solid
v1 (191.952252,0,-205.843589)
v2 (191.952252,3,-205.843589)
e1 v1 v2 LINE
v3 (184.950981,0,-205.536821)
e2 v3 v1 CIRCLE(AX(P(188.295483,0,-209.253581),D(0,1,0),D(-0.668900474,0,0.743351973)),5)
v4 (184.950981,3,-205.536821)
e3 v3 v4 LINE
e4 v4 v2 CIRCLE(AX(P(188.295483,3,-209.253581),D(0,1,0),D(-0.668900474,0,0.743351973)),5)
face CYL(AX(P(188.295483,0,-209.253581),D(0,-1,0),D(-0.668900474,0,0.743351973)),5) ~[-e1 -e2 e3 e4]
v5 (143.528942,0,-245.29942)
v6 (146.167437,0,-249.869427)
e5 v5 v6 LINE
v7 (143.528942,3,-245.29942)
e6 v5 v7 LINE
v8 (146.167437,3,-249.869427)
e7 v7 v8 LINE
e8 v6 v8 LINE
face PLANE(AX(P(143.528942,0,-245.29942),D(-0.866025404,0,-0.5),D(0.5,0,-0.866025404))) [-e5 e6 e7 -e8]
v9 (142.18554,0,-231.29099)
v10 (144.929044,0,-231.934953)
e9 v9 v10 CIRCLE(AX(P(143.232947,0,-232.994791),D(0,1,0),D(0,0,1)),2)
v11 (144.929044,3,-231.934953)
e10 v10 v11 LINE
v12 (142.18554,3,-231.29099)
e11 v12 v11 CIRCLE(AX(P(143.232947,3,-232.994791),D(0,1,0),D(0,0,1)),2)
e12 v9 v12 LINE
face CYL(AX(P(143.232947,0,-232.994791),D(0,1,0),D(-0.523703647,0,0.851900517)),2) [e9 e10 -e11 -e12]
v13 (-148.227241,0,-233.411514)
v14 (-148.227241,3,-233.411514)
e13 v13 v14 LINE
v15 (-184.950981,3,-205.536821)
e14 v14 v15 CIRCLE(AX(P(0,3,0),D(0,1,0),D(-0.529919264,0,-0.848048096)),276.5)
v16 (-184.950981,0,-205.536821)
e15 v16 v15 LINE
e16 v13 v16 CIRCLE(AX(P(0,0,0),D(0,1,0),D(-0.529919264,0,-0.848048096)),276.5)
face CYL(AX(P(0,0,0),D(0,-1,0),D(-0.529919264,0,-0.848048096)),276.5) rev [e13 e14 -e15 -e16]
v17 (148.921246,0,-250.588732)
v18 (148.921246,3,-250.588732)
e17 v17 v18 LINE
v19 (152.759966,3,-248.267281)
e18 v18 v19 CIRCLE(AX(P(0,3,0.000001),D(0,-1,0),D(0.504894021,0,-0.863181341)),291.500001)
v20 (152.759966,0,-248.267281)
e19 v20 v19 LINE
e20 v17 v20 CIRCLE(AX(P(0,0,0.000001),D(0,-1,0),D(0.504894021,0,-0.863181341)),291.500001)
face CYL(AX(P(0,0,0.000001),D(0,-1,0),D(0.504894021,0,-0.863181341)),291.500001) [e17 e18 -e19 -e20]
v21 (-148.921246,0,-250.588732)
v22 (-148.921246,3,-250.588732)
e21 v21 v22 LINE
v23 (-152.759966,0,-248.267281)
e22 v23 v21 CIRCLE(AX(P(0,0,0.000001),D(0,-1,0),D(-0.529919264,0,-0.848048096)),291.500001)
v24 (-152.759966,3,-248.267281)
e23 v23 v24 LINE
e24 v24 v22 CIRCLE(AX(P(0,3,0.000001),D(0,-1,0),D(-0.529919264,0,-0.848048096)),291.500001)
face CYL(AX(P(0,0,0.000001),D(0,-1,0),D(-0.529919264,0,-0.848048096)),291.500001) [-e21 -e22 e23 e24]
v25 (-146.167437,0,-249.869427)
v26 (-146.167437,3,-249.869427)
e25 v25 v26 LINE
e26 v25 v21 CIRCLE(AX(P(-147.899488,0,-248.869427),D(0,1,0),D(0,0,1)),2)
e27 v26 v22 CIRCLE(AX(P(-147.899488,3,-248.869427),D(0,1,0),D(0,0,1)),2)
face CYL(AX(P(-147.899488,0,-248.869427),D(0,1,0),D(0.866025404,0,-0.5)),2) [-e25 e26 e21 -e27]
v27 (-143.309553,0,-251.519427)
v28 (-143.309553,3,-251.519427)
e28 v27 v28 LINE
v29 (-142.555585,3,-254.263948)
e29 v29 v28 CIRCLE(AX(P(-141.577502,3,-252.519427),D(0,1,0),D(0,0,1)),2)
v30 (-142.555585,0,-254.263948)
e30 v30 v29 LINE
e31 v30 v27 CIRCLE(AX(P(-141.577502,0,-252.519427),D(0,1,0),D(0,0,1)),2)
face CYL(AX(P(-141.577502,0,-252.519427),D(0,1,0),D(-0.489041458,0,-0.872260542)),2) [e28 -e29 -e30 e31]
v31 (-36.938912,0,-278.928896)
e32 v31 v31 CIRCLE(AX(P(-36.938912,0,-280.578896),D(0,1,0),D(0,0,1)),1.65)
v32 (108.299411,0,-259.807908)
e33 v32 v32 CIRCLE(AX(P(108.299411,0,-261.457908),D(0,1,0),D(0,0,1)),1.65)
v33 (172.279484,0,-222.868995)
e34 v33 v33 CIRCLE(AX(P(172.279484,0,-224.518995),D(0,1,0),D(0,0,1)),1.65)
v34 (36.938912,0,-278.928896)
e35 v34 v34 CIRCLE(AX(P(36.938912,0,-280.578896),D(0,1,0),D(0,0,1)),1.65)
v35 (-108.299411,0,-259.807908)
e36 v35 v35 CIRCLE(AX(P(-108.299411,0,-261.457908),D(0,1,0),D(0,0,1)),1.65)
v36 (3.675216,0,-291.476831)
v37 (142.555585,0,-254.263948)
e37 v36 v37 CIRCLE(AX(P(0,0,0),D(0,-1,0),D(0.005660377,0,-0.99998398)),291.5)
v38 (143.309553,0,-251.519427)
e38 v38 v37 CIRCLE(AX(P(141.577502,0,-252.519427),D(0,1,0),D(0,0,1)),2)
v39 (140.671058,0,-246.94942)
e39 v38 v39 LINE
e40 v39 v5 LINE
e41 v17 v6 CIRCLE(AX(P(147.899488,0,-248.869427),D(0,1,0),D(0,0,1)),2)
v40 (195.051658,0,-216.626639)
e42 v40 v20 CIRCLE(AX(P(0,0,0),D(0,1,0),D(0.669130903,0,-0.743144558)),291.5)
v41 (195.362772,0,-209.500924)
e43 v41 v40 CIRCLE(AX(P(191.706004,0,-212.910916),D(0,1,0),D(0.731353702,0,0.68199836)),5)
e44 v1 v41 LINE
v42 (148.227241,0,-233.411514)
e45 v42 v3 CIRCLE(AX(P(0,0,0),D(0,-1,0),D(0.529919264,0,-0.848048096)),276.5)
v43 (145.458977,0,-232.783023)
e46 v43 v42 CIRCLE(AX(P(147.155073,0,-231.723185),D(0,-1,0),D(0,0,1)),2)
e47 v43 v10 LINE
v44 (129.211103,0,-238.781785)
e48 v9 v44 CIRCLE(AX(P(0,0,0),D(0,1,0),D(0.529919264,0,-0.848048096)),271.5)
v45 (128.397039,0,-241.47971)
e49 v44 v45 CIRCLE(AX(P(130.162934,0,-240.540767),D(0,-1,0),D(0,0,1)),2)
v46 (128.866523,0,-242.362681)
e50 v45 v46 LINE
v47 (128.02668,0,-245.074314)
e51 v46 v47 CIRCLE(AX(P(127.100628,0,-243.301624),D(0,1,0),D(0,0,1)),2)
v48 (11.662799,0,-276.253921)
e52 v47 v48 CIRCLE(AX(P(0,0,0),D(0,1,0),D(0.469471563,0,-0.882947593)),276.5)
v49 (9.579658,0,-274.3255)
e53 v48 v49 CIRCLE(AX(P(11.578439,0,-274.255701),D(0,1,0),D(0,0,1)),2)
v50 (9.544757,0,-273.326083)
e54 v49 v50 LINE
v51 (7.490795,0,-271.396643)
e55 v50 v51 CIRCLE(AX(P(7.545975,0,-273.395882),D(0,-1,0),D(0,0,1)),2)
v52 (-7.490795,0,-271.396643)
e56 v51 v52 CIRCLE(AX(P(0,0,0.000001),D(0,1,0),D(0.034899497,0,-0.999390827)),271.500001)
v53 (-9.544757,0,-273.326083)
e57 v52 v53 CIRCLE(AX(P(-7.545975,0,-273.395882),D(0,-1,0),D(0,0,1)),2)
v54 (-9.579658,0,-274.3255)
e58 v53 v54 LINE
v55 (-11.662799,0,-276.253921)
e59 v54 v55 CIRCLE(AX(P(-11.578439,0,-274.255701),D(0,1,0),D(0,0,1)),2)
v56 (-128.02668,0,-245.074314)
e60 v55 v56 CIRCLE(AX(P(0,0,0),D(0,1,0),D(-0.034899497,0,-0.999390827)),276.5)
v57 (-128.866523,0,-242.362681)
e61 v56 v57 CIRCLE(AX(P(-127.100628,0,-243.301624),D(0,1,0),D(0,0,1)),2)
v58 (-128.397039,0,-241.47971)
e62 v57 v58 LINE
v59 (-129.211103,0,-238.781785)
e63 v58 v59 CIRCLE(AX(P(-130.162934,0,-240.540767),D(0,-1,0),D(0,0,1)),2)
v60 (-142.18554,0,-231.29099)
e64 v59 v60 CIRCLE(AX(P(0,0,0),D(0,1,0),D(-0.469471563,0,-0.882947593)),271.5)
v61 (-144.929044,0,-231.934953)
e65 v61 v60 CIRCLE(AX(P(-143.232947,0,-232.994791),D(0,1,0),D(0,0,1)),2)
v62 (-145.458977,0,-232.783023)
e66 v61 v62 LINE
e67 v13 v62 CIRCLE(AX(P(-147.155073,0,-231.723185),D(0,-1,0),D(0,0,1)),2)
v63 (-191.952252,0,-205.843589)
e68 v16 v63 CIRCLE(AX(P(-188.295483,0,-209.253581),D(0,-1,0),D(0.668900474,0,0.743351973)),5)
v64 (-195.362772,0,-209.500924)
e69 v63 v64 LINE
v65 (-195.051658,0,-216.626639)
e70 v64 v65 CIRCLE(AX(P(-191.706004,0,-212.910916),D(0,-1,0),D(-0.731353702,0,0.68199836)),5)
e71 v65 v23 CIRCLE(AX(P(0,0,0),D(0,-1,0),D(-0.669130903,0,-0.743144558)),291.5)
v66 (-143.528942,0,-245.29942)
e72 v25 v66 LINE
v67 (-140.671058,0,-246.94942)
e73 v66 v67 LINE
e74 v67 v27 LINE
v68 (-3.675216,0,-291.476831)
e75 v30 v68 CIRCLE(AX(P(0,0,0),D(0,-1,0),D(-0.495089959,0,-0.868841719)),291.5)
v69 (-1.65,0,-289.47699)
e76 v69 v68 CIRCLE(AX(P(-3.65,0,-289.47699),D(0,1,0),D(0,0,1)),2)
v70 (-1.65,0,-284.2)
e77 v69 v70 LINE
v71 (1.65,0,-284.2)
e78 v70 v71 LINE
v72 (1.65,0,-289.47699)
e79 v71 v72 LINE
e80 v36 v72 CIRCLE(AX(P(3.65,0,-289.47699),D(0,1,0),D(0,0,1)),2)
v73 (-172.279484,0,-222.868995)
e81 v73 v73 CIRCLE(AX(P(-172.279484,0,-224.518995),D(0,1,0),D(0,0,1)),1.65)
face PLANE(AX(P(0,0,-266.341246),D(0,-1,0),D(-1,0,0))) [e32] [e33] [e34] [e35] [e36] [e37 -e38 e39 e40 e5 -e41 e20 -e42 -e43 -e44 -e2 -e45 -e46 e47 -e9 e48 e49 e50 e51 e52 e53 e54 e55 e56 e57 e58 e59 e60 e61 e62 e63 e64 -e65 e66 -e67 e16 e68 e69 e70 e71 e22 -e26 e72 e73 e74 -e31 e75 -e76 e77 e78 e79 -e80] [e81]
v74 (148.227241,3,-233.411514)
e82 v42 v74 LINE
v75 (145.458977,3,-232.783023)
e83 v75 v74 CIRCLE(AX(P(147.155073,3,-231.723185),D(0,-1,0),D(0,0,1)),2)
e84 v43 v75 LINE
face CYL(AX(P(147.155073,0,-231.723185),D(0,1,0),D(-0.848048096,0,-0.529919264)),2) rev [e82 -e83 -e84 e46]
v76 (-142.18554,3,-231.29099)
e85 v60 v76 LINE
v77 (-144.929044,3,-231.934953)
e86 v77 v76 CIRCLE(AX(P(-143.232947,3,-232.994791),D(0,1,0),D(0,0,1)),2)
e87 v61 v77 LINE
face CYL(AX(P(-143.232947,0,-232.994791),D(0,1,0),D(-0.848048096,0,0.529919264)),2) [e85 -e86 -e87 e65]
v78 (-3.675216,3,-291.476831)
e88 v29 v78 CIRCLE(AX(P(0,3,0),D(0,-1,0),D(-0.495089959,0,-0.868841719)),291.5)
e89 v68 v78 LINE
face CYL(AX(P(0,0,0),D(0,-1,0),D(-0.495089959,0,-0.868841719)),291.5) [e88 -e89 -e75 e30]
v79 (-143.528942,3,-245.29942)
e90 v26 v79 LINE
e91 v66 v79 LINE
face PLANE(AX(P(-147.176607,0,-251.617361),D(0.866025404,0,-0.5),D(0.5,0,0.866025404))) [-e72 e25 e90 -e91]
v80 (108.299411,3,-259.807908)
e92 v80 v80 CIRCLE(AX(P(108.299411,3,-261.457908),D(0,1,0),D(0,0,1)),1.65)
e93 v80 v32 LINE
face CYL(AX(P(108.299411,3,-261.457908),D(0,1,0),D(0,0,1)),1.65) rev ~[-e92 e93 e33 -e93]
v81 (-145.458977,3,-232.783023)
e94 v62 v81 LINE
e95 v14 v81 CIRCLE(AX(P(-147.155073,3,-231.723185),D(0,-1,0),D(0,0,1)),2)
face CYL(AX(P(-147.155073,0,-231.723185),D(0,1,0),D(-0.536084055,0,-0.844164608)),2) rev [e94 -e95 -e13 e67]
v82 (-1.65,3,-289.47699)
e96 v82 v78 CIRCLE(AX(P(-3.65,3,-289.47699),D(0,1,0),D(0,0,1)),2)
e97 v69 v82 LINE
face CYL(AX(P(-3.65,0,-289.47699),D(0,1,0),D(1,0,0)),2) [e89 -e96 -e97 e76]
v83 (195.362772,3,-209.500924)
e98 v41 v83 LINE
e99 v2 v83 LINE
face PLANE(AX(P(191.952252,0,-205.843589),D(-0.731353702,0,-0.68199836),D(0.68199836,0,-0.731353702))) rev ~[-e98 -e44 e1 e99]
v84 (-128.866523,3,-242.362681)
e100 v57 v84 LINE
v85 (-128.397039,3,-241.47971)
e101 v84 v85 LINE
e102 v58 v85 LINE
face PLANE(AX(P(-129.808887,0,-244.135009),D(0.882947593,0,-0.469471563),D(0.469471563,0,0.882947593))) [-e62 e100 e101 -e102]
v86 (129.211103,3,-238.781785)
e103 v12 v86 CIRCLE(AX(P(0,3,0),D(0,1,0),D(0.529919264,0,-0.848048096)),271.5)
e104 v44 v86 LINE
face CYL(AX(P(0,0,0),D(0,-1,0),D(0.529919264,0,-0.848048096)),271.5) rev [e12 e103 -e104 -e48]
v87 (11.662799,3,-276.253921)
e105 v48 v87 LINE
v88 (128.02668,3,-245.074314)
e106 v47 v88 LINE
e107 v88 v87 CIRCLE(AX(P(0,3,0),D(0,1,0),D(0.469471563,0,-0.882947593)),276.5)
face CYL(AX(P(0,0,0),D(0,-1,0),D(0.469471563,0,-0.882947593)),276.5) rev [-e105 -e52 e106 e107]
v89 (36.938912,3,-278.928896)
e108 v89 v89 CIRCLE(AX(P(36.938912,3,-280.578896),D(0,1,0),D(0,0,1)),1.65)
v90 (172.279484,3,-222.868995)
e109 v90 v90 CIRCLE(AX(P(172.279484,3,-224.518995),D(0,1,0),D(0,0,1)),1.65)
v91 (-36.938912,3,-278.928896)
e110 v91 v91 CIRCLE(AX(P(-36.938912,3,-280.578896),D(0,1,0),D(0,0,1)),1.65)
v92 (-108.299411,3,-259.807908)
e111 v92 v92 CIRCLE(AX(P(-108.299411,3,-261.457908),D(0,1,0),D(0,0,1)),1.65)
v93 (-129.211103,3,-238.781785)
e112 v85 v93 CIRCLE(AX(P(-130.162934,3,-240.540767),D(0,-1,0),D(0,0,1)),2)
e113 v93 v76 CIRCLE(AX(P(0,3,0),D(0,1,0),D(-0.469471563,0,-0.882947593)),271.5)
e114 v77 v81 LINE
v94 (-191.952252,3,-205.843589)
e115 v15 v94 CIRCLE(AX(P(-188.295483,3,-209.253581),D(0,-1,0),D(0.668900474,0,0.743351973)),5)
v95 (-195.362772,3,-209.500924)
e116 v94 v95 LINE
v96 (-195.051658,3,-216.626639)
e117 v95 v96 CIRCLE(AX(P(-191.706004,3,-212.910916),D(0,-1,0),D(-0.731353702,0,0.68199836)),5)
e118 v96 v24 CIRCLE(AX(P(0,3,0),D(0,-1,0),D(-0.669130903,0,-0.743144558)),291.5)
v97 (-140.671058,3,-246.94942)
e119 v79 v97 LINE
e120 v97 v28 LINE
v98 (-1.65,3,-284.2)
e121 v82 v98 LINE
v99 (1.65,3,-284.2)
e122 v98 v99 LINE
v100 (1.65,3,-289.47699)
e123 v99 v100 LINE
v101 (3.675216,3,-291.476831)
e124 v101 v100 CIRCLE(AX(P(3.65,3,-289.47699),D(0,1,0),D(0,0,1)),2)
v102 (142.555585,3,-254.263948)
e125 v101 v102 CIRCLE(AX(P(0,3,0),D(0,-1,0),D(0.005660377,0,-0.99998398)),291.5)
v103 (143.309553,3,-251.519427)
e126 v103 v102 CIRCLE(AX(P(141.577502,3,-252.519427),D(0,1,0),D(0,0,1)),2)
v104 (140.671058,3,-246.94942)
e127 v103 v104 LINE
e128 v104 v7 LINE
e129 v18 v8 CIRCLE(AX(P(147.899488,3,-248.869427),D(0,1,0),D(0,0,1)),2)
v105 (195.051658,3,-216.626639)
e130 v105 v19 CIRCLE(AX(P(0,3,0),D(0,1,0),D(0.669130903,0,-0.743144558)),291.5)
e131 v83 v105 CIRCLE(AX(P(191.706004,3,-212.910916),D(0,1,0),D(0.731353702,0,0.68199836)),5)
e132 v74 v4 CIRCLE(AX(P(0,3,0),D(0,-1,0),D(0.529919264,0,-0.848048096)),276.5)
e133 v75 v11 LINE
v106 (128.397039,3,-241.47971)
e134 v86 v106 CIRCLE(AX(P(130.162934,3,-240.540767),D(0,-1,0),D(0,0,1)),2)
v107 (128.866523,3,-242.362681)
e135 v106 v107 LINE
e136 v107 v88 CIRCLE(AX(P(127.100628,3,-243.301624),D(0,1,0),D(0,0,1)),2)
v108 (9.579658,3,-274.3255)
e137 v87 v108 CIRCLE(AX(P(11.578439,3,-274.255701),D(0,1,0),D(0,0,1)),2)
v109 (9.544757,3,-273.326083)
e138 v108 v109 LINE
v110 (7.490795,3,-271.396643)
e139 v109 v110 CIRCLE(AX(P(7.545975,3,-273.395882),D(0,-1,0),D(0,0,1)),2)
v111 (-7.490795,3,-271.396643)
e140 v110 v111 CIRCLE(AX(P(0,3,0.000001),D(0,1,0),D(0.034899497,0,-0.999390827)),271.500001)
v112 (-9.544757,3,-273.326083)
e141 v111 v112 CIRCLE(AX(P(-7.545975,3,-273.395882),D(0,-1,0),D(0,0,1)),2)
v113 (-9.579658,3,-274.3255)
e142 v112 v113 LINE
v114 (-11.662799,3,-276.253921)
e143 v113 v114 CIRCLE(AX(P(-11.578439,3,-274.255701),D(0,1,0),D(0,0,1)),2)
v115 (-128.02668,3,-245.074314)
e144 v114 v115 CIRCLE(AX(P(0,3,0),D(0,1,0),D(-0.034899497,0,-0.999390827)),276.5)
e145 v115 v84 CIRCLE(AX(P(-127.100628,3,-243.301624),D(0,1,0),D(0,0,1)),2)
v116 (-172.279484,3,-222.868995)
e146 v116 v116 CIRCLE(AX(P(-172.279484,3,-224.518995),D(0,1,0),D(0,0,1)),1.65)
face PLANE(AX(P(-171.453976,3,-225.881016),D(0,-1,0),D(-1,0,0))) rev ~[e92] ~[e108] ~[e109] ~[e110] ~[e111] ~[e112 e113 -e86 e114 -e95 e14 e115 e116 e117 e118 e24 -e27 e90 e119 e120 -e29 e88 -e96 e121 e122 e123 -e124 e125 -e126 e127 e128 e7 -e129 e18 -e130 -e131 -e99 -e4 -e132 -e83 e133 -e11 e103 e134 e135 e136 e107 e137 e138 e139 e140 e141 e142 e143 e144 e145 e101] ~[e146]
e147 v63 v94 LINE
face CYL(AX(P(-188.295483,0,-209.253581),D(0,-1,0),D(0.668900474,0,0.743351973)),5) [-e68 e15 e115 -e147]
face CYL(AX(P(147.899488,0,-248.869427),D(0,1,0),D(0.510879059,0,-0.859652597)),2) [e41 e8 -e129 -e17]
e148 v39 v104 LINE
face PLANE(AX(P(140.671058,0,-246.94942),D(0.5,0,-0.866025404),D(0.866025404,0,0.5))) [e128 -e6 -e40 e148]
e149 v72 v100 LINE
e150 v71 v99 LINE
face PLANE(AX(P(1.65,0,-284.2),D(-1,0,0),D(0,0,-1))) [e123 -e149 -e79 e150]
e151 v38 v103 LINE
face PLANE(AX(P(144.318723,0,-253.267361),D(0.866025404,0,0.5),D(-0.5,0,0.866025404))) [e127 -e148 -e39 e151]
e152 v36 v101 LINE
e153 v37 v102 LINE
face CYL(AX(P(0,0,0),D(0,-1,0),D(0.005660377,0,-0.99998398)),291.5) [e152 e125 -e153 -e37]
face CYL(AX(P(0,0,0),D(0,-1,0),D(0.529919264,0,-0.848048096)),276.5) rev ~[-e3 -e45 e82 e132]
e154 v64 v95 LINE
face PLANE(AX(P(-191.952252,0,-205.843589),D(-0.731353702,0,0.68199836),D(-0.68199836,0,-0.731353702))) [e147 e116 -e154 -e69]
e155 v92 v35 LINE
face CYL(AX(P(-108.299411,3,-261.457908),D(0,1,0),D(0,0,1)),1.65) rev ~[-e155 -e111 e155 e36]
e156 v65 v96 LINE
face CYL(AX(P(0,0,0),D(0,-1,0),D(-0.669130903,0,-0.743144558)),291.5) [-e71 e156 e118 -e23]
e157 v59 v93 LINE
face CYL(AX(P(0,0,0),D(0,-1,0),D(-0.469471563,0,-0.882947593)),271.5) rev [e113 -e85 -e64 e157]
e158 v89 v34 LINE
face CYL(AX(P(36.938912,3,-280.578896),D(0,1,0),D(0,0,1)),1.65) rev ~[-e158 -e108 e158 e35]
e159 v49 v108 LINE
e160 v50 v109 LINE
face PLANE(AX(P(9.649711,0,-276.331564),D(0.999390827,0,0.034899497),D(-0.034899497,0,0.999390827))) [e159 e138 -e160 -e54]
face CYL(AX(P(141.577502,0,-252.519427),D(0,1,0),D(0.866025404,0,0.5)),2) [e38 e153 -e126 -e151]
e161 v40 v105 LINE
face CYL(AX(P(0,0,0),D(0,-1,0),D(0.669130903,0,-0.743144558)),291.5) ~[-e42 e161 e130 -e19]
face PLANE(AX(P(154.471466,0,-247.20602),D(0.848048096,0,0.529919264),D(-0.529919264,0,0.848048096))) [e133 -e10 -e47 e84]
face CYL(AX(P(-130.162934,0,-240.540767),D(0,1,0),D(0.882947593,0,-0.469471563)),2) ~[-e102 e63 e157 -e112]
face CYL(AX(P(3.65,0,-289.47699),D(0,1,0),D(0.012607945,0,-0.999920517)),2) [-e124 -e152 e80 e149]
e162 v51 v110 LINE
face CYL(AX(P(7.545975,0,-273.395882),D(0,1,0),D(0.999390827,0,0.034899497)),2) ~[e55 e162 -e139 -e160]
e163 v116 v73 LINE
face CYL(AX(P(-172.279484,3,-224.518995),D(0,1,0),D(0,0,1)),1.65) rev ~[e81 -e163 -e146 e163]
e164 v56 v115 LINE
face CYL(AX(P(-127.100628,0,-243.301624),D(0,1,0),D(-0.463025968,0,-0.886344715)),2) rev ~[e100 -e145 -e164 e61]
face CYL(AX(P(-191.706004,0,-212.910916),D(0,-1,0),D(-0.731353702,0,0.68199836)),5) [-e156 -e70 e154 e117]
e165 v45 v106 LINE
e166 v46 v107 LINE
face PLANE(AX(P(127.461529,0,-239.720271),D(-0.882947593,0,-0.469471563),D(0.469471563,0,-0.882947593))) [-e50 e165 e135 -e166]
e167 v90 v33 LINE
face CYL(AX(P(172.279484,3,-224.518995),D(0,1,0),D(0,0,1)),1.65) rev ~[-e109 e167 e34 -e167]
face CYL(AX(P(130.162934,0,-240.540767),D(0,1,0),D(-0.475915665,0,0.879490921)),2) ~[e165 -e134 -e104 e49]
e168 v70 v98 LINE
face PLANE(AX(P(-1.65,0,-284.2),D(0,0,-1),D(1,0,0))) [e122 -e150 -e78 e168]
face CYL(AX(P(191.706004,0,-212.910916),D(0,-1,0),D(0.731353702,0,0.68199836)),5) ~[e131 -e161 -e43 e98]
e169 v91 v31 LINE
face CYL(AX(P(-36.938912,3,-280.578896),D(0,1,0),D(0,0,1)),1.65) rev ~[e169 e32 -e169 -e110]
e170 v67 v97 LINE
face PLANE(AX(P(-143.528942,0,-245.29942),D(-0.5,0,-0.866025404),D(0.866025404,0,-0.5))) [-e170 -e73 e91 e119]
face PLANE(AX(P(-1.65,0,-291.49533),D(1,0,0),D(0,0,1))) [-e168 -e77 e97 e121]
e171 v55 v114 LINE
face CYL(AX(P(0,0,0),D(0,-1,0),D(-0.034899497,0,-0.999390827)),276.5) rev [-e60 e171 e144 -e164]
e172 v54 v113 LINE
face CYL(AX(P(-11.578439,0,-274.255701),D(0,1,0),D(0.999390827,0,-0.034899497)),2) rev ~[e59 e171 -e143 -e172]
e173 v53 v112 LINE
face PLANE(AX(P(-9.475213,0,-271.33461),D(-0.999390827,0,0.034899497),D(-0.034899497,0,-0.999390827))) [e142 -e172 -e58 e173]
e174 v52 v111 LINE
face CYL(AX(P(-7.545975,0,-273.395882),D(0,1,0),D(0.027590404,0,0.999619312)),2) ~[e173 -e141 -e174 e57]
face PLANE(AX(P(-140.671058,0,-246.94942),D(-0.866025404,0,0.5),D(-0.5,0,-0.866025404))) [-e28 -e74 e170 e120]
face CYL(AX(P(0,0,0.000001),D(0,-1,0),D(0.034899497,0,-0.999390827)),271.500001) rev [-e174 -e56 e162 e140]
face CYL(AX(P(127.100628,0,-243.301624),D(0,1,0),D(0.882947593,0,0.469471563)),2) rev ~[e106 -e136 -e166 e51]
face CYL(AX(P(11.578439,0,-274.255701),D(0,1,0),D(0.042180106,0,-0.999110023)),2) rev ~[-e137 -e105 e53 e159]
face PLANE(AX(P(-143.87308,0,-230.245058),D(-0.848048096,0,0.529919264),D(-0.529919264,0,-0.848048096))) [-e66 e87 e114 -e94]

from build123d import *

# Parameters (mm, degrees)
BOSS_EXTRUDE1_DEPTH = 3
FILLET1_R           = 2
FILLET2_R           = 2
FILLET3_R           = 2
BOSS_EXTRUDE2_START = -3
BOSS_EXTRUDE2_DEPTH = 3
FILLET4_R           = 2
SKETCH3_R           = 1.65
CUT_EXTRUDE1_DEPTH  = 10


with BuildPart() as part:
    # Sketch1 → Boss-Extrude1 (new body)
    with BuildSketch(Plane(origin=(0, 0, 0), x_dir=(1, 0, 0), z_dir=(0, 1, 0))):
        with BuildLine():
            Line((-147.176606992, 251.617360996), (-143.528941916, 245.299419756))
            Line((-143.528941916, 245.299419756), (-140.671058084, 246.949419756))
            Line((-140.671058084, 246.949419756), (-144.318723159, 253.267360996))
            ThreePointArc((-144.318723159, 253.267360996), (-75.445751647, 281.567378363), (-1.65, 291.495330151))
            Line((-1.65, 291.495330151), (-1.65, 284.2))
            Line((-1.65, 284.2), (1.65, 284.2))
            Line((1.65, 284.2), (1.65, 291.495330151))
            ThreePointArc((1.65, 291.495330151), (75.445751647, 281.567378363), (144.318723159, 253.267360996))
            Line((144.318723159, 253.267360996), (140.671058084, 246.949419756))
            Line((140.671058084, 246.949419756), (143.528941916, 245.299419756))
            Line((143.528941916, 245.299419756), (147.176606992, 251.617360996))
            ThreePointArc((147.176606992, 251.617360996), (150.840163403, 249.438359329), (154.471465524, 247.20602003))
            Line((154.471465524, 247.20602003), (143.873080239, 230.245058106))
            ThreePointArc((143.873080239, 230.245058106), (135.75, 235.125897127), (127.461529296, 239.720271461))
            Line((127.461529296, 239.720271461), (129.80888711, 244.135009425))
            ThreePointArc((129.80888711, 244.135009425), (71.563465971, 267.078490969), (9.649710838, 276.331563671))
            Line((9.649710838, 276.331563671), (9.475213355, 271.334609536))
            ThreePointArc((9.475213355, 271.334609536), (0, 271.5), (-9.475213355, 271.334609536))
            Line((-9.475213355, 271.334609536), (-9.649710838, 276.331563671))
            ThreePointArc((-9.649710838, 276.331563671), (-71.563465971, 267.078490969), (-129.80888711, 244.135009425))
            Line((-129.80888711, 244.135009425), (-127.461529296, 239.720271461))
            ThreePointArc((-127.461529296, 239.720271461), (-135.75, 235.125897127), (-143.873080239, 230.245058106))
            Line((-143.873080239, 230.245058106), (-154.471465524, 247.20602003))
            ThreePointArc((-154.471465524, 247.20602003), (-150.840163403, 249.438359329), (-147.176606992, 251.617360996))
        make_face()
    extrude(amount=BOSS_EXTRUDE1_DEPTH)

    # Fillet1
    fillet1_edges = [part.edges().sort_by_distance(p)[0] for p in [
        (127.461529296, 1.5, -239.720271461),
        (129.80888711, 1.5, -244.135009425),
        (9.649710838, 1.5, -276.331563671),
        (9.475213355, 1.5, -271.334609536),
        (-9.475213355, 1.5, -271.334609536),
        (-9.649710838, 1.5, -276.331563671),
        (-129.80888711, 1.5, -244.135009425),
        (-127.461529296, 1.5, -239.720271461),
    ]]
    fillet(fillet1_edges, radius=FILLET1_R)

    # Fillet2
    fillet2_edges = [part.edges().sort_by_distance(p)[0] for p in [
        (154.471465524, 1.5, -247.20602003),
        (143.873080239, 1.5, -230.245058106),
        (-143.873080239, 1.5, -230.245058106),
        (-154.471465524, 1.5, -247.20602003),
    ]]
    fillet(fillet2_edges, radius=FILLET2_R)

    # Fillet3
    fillet3_edges = [part.edges().sort_by_distance(p)[0] for p in [
        (-147.176606992, 1.5, -251.617360996),
        (-144.318723159, 1.5, -253.267360996),
        (-1.65, 1.5, -291.495330151),
        (1.65, 1.5, -291.495330151),
        (144.318723159, 1.5, -253.267360996),
        (147.176606992, 1.5, -251.617360996),
    ]]
    fillet(fillet3_edges, radius=FILLET3_R)

    # Sketch2 → Boss-Extrude2 (add)
    with BuildSketch(Plane(origin=(0, 3, 0), x_dir=(1, 0, 0), z_dir=(0, 1, 0)).offset(BOSS_EXTRUDE2_START)):
        with BuildLine():
            Line((-152.759965651, 248.267281159), (-146.52267656, 234.485298587))
            ThreePointArc((-146.52267656, 234.485298587), (-166.367665138, 220.84847746), (-184.950980973, 205.536820636))
            ThreePointArc((-184.950980973, 205.536820636), (-188.514353616, 204.258373219), (-191.95225185, 205.843588702))
            Line((-191.95225185, 205.843588702), (-195.362772292, 209.500924109))
            ThreePointArc((-195.362772292, 209.500924109), (-196.701244935, 213.129011848), (-195.0516583, 216.6266387))
            ThreePointArc((-195.0516583, 216.6266387), (-174.623921622, 233.406803666), (-152.759965651, 248.267281159))
        make_face()
        with BuildLine():
            Line((191.95225185, 205.843588702), (195.362772292, 209.500924109))
            ThreePointArc((195.362772292, 209.500924109), (196.701244935, 213.129011848), (195.0516583, 216.6266387))
            ThreePointArc((195.0516583, 216.6266387), (174.623921622, 233.406803666), (152.759965651, 248.267281159))
            Line((152.759965651, 248.267281159), (146.52267656, 234.485298587))
            ThreePointArc((146.52267656, 234.485298587), (166.367665138, 220.84847746), (184.950980973, 205.536820636))
            ThreePointArc((184.950980973, 205.536820636), (188.514353616, 204.258373219), (191.95225185, 205.843588702))
        make_face()
    extrude(amount=BOSS_EXTRUDE2_DEPTH)

    # Fillet4
    fillet4_edges = [part.edges().sort_by_distance(p)[0] for p in [
        (-146.52267656, 1.5, -234.485298587),
        (146.52267656, 1.5, -234.485298587),
    ]]
    fillet(fillet4_edges, radius=FILLET4_R)

    # Sketch3 → Cut-Extrude1 (cut)
    with BuildSketch(Plane(origin=(0, 3, 0), x_dir=(1, 0, 0), z_dir=(0, 1, 0))):
        with Locations(Location((-36.938912398, 280.578895769, 0), (0, 0, 270))):
            Circle(SKETCH3_R)
        with Locations(Location((36.938912398, 280.578895769, 0), (0, 0, 270))):
            Circle(SKETCH3_R)
        with Locations(Location((108.299411359, 261.457907701, 0), (0, 0, 270))):
            Circle(SKETCH3_R)
        with Locations(Location((-108.299411359, 261.457907701, 0), (0, 0, 270))):
            Circle(SKETCH3_R)
        with Locations(Location((172.279484409, 224.518995302, 0), (0, 0, 270))):
            Circle(SKETCH3_R)
        with Locations(Location((-172.279484409, 224.518995302, 0), (0, 0, 270))):
            Circle(SKETCH3_R)
    extrude(amount=-CUT_EXTRUDE1_DEPTH, mode=Mode.SUBTRACT)


solid = part.part
